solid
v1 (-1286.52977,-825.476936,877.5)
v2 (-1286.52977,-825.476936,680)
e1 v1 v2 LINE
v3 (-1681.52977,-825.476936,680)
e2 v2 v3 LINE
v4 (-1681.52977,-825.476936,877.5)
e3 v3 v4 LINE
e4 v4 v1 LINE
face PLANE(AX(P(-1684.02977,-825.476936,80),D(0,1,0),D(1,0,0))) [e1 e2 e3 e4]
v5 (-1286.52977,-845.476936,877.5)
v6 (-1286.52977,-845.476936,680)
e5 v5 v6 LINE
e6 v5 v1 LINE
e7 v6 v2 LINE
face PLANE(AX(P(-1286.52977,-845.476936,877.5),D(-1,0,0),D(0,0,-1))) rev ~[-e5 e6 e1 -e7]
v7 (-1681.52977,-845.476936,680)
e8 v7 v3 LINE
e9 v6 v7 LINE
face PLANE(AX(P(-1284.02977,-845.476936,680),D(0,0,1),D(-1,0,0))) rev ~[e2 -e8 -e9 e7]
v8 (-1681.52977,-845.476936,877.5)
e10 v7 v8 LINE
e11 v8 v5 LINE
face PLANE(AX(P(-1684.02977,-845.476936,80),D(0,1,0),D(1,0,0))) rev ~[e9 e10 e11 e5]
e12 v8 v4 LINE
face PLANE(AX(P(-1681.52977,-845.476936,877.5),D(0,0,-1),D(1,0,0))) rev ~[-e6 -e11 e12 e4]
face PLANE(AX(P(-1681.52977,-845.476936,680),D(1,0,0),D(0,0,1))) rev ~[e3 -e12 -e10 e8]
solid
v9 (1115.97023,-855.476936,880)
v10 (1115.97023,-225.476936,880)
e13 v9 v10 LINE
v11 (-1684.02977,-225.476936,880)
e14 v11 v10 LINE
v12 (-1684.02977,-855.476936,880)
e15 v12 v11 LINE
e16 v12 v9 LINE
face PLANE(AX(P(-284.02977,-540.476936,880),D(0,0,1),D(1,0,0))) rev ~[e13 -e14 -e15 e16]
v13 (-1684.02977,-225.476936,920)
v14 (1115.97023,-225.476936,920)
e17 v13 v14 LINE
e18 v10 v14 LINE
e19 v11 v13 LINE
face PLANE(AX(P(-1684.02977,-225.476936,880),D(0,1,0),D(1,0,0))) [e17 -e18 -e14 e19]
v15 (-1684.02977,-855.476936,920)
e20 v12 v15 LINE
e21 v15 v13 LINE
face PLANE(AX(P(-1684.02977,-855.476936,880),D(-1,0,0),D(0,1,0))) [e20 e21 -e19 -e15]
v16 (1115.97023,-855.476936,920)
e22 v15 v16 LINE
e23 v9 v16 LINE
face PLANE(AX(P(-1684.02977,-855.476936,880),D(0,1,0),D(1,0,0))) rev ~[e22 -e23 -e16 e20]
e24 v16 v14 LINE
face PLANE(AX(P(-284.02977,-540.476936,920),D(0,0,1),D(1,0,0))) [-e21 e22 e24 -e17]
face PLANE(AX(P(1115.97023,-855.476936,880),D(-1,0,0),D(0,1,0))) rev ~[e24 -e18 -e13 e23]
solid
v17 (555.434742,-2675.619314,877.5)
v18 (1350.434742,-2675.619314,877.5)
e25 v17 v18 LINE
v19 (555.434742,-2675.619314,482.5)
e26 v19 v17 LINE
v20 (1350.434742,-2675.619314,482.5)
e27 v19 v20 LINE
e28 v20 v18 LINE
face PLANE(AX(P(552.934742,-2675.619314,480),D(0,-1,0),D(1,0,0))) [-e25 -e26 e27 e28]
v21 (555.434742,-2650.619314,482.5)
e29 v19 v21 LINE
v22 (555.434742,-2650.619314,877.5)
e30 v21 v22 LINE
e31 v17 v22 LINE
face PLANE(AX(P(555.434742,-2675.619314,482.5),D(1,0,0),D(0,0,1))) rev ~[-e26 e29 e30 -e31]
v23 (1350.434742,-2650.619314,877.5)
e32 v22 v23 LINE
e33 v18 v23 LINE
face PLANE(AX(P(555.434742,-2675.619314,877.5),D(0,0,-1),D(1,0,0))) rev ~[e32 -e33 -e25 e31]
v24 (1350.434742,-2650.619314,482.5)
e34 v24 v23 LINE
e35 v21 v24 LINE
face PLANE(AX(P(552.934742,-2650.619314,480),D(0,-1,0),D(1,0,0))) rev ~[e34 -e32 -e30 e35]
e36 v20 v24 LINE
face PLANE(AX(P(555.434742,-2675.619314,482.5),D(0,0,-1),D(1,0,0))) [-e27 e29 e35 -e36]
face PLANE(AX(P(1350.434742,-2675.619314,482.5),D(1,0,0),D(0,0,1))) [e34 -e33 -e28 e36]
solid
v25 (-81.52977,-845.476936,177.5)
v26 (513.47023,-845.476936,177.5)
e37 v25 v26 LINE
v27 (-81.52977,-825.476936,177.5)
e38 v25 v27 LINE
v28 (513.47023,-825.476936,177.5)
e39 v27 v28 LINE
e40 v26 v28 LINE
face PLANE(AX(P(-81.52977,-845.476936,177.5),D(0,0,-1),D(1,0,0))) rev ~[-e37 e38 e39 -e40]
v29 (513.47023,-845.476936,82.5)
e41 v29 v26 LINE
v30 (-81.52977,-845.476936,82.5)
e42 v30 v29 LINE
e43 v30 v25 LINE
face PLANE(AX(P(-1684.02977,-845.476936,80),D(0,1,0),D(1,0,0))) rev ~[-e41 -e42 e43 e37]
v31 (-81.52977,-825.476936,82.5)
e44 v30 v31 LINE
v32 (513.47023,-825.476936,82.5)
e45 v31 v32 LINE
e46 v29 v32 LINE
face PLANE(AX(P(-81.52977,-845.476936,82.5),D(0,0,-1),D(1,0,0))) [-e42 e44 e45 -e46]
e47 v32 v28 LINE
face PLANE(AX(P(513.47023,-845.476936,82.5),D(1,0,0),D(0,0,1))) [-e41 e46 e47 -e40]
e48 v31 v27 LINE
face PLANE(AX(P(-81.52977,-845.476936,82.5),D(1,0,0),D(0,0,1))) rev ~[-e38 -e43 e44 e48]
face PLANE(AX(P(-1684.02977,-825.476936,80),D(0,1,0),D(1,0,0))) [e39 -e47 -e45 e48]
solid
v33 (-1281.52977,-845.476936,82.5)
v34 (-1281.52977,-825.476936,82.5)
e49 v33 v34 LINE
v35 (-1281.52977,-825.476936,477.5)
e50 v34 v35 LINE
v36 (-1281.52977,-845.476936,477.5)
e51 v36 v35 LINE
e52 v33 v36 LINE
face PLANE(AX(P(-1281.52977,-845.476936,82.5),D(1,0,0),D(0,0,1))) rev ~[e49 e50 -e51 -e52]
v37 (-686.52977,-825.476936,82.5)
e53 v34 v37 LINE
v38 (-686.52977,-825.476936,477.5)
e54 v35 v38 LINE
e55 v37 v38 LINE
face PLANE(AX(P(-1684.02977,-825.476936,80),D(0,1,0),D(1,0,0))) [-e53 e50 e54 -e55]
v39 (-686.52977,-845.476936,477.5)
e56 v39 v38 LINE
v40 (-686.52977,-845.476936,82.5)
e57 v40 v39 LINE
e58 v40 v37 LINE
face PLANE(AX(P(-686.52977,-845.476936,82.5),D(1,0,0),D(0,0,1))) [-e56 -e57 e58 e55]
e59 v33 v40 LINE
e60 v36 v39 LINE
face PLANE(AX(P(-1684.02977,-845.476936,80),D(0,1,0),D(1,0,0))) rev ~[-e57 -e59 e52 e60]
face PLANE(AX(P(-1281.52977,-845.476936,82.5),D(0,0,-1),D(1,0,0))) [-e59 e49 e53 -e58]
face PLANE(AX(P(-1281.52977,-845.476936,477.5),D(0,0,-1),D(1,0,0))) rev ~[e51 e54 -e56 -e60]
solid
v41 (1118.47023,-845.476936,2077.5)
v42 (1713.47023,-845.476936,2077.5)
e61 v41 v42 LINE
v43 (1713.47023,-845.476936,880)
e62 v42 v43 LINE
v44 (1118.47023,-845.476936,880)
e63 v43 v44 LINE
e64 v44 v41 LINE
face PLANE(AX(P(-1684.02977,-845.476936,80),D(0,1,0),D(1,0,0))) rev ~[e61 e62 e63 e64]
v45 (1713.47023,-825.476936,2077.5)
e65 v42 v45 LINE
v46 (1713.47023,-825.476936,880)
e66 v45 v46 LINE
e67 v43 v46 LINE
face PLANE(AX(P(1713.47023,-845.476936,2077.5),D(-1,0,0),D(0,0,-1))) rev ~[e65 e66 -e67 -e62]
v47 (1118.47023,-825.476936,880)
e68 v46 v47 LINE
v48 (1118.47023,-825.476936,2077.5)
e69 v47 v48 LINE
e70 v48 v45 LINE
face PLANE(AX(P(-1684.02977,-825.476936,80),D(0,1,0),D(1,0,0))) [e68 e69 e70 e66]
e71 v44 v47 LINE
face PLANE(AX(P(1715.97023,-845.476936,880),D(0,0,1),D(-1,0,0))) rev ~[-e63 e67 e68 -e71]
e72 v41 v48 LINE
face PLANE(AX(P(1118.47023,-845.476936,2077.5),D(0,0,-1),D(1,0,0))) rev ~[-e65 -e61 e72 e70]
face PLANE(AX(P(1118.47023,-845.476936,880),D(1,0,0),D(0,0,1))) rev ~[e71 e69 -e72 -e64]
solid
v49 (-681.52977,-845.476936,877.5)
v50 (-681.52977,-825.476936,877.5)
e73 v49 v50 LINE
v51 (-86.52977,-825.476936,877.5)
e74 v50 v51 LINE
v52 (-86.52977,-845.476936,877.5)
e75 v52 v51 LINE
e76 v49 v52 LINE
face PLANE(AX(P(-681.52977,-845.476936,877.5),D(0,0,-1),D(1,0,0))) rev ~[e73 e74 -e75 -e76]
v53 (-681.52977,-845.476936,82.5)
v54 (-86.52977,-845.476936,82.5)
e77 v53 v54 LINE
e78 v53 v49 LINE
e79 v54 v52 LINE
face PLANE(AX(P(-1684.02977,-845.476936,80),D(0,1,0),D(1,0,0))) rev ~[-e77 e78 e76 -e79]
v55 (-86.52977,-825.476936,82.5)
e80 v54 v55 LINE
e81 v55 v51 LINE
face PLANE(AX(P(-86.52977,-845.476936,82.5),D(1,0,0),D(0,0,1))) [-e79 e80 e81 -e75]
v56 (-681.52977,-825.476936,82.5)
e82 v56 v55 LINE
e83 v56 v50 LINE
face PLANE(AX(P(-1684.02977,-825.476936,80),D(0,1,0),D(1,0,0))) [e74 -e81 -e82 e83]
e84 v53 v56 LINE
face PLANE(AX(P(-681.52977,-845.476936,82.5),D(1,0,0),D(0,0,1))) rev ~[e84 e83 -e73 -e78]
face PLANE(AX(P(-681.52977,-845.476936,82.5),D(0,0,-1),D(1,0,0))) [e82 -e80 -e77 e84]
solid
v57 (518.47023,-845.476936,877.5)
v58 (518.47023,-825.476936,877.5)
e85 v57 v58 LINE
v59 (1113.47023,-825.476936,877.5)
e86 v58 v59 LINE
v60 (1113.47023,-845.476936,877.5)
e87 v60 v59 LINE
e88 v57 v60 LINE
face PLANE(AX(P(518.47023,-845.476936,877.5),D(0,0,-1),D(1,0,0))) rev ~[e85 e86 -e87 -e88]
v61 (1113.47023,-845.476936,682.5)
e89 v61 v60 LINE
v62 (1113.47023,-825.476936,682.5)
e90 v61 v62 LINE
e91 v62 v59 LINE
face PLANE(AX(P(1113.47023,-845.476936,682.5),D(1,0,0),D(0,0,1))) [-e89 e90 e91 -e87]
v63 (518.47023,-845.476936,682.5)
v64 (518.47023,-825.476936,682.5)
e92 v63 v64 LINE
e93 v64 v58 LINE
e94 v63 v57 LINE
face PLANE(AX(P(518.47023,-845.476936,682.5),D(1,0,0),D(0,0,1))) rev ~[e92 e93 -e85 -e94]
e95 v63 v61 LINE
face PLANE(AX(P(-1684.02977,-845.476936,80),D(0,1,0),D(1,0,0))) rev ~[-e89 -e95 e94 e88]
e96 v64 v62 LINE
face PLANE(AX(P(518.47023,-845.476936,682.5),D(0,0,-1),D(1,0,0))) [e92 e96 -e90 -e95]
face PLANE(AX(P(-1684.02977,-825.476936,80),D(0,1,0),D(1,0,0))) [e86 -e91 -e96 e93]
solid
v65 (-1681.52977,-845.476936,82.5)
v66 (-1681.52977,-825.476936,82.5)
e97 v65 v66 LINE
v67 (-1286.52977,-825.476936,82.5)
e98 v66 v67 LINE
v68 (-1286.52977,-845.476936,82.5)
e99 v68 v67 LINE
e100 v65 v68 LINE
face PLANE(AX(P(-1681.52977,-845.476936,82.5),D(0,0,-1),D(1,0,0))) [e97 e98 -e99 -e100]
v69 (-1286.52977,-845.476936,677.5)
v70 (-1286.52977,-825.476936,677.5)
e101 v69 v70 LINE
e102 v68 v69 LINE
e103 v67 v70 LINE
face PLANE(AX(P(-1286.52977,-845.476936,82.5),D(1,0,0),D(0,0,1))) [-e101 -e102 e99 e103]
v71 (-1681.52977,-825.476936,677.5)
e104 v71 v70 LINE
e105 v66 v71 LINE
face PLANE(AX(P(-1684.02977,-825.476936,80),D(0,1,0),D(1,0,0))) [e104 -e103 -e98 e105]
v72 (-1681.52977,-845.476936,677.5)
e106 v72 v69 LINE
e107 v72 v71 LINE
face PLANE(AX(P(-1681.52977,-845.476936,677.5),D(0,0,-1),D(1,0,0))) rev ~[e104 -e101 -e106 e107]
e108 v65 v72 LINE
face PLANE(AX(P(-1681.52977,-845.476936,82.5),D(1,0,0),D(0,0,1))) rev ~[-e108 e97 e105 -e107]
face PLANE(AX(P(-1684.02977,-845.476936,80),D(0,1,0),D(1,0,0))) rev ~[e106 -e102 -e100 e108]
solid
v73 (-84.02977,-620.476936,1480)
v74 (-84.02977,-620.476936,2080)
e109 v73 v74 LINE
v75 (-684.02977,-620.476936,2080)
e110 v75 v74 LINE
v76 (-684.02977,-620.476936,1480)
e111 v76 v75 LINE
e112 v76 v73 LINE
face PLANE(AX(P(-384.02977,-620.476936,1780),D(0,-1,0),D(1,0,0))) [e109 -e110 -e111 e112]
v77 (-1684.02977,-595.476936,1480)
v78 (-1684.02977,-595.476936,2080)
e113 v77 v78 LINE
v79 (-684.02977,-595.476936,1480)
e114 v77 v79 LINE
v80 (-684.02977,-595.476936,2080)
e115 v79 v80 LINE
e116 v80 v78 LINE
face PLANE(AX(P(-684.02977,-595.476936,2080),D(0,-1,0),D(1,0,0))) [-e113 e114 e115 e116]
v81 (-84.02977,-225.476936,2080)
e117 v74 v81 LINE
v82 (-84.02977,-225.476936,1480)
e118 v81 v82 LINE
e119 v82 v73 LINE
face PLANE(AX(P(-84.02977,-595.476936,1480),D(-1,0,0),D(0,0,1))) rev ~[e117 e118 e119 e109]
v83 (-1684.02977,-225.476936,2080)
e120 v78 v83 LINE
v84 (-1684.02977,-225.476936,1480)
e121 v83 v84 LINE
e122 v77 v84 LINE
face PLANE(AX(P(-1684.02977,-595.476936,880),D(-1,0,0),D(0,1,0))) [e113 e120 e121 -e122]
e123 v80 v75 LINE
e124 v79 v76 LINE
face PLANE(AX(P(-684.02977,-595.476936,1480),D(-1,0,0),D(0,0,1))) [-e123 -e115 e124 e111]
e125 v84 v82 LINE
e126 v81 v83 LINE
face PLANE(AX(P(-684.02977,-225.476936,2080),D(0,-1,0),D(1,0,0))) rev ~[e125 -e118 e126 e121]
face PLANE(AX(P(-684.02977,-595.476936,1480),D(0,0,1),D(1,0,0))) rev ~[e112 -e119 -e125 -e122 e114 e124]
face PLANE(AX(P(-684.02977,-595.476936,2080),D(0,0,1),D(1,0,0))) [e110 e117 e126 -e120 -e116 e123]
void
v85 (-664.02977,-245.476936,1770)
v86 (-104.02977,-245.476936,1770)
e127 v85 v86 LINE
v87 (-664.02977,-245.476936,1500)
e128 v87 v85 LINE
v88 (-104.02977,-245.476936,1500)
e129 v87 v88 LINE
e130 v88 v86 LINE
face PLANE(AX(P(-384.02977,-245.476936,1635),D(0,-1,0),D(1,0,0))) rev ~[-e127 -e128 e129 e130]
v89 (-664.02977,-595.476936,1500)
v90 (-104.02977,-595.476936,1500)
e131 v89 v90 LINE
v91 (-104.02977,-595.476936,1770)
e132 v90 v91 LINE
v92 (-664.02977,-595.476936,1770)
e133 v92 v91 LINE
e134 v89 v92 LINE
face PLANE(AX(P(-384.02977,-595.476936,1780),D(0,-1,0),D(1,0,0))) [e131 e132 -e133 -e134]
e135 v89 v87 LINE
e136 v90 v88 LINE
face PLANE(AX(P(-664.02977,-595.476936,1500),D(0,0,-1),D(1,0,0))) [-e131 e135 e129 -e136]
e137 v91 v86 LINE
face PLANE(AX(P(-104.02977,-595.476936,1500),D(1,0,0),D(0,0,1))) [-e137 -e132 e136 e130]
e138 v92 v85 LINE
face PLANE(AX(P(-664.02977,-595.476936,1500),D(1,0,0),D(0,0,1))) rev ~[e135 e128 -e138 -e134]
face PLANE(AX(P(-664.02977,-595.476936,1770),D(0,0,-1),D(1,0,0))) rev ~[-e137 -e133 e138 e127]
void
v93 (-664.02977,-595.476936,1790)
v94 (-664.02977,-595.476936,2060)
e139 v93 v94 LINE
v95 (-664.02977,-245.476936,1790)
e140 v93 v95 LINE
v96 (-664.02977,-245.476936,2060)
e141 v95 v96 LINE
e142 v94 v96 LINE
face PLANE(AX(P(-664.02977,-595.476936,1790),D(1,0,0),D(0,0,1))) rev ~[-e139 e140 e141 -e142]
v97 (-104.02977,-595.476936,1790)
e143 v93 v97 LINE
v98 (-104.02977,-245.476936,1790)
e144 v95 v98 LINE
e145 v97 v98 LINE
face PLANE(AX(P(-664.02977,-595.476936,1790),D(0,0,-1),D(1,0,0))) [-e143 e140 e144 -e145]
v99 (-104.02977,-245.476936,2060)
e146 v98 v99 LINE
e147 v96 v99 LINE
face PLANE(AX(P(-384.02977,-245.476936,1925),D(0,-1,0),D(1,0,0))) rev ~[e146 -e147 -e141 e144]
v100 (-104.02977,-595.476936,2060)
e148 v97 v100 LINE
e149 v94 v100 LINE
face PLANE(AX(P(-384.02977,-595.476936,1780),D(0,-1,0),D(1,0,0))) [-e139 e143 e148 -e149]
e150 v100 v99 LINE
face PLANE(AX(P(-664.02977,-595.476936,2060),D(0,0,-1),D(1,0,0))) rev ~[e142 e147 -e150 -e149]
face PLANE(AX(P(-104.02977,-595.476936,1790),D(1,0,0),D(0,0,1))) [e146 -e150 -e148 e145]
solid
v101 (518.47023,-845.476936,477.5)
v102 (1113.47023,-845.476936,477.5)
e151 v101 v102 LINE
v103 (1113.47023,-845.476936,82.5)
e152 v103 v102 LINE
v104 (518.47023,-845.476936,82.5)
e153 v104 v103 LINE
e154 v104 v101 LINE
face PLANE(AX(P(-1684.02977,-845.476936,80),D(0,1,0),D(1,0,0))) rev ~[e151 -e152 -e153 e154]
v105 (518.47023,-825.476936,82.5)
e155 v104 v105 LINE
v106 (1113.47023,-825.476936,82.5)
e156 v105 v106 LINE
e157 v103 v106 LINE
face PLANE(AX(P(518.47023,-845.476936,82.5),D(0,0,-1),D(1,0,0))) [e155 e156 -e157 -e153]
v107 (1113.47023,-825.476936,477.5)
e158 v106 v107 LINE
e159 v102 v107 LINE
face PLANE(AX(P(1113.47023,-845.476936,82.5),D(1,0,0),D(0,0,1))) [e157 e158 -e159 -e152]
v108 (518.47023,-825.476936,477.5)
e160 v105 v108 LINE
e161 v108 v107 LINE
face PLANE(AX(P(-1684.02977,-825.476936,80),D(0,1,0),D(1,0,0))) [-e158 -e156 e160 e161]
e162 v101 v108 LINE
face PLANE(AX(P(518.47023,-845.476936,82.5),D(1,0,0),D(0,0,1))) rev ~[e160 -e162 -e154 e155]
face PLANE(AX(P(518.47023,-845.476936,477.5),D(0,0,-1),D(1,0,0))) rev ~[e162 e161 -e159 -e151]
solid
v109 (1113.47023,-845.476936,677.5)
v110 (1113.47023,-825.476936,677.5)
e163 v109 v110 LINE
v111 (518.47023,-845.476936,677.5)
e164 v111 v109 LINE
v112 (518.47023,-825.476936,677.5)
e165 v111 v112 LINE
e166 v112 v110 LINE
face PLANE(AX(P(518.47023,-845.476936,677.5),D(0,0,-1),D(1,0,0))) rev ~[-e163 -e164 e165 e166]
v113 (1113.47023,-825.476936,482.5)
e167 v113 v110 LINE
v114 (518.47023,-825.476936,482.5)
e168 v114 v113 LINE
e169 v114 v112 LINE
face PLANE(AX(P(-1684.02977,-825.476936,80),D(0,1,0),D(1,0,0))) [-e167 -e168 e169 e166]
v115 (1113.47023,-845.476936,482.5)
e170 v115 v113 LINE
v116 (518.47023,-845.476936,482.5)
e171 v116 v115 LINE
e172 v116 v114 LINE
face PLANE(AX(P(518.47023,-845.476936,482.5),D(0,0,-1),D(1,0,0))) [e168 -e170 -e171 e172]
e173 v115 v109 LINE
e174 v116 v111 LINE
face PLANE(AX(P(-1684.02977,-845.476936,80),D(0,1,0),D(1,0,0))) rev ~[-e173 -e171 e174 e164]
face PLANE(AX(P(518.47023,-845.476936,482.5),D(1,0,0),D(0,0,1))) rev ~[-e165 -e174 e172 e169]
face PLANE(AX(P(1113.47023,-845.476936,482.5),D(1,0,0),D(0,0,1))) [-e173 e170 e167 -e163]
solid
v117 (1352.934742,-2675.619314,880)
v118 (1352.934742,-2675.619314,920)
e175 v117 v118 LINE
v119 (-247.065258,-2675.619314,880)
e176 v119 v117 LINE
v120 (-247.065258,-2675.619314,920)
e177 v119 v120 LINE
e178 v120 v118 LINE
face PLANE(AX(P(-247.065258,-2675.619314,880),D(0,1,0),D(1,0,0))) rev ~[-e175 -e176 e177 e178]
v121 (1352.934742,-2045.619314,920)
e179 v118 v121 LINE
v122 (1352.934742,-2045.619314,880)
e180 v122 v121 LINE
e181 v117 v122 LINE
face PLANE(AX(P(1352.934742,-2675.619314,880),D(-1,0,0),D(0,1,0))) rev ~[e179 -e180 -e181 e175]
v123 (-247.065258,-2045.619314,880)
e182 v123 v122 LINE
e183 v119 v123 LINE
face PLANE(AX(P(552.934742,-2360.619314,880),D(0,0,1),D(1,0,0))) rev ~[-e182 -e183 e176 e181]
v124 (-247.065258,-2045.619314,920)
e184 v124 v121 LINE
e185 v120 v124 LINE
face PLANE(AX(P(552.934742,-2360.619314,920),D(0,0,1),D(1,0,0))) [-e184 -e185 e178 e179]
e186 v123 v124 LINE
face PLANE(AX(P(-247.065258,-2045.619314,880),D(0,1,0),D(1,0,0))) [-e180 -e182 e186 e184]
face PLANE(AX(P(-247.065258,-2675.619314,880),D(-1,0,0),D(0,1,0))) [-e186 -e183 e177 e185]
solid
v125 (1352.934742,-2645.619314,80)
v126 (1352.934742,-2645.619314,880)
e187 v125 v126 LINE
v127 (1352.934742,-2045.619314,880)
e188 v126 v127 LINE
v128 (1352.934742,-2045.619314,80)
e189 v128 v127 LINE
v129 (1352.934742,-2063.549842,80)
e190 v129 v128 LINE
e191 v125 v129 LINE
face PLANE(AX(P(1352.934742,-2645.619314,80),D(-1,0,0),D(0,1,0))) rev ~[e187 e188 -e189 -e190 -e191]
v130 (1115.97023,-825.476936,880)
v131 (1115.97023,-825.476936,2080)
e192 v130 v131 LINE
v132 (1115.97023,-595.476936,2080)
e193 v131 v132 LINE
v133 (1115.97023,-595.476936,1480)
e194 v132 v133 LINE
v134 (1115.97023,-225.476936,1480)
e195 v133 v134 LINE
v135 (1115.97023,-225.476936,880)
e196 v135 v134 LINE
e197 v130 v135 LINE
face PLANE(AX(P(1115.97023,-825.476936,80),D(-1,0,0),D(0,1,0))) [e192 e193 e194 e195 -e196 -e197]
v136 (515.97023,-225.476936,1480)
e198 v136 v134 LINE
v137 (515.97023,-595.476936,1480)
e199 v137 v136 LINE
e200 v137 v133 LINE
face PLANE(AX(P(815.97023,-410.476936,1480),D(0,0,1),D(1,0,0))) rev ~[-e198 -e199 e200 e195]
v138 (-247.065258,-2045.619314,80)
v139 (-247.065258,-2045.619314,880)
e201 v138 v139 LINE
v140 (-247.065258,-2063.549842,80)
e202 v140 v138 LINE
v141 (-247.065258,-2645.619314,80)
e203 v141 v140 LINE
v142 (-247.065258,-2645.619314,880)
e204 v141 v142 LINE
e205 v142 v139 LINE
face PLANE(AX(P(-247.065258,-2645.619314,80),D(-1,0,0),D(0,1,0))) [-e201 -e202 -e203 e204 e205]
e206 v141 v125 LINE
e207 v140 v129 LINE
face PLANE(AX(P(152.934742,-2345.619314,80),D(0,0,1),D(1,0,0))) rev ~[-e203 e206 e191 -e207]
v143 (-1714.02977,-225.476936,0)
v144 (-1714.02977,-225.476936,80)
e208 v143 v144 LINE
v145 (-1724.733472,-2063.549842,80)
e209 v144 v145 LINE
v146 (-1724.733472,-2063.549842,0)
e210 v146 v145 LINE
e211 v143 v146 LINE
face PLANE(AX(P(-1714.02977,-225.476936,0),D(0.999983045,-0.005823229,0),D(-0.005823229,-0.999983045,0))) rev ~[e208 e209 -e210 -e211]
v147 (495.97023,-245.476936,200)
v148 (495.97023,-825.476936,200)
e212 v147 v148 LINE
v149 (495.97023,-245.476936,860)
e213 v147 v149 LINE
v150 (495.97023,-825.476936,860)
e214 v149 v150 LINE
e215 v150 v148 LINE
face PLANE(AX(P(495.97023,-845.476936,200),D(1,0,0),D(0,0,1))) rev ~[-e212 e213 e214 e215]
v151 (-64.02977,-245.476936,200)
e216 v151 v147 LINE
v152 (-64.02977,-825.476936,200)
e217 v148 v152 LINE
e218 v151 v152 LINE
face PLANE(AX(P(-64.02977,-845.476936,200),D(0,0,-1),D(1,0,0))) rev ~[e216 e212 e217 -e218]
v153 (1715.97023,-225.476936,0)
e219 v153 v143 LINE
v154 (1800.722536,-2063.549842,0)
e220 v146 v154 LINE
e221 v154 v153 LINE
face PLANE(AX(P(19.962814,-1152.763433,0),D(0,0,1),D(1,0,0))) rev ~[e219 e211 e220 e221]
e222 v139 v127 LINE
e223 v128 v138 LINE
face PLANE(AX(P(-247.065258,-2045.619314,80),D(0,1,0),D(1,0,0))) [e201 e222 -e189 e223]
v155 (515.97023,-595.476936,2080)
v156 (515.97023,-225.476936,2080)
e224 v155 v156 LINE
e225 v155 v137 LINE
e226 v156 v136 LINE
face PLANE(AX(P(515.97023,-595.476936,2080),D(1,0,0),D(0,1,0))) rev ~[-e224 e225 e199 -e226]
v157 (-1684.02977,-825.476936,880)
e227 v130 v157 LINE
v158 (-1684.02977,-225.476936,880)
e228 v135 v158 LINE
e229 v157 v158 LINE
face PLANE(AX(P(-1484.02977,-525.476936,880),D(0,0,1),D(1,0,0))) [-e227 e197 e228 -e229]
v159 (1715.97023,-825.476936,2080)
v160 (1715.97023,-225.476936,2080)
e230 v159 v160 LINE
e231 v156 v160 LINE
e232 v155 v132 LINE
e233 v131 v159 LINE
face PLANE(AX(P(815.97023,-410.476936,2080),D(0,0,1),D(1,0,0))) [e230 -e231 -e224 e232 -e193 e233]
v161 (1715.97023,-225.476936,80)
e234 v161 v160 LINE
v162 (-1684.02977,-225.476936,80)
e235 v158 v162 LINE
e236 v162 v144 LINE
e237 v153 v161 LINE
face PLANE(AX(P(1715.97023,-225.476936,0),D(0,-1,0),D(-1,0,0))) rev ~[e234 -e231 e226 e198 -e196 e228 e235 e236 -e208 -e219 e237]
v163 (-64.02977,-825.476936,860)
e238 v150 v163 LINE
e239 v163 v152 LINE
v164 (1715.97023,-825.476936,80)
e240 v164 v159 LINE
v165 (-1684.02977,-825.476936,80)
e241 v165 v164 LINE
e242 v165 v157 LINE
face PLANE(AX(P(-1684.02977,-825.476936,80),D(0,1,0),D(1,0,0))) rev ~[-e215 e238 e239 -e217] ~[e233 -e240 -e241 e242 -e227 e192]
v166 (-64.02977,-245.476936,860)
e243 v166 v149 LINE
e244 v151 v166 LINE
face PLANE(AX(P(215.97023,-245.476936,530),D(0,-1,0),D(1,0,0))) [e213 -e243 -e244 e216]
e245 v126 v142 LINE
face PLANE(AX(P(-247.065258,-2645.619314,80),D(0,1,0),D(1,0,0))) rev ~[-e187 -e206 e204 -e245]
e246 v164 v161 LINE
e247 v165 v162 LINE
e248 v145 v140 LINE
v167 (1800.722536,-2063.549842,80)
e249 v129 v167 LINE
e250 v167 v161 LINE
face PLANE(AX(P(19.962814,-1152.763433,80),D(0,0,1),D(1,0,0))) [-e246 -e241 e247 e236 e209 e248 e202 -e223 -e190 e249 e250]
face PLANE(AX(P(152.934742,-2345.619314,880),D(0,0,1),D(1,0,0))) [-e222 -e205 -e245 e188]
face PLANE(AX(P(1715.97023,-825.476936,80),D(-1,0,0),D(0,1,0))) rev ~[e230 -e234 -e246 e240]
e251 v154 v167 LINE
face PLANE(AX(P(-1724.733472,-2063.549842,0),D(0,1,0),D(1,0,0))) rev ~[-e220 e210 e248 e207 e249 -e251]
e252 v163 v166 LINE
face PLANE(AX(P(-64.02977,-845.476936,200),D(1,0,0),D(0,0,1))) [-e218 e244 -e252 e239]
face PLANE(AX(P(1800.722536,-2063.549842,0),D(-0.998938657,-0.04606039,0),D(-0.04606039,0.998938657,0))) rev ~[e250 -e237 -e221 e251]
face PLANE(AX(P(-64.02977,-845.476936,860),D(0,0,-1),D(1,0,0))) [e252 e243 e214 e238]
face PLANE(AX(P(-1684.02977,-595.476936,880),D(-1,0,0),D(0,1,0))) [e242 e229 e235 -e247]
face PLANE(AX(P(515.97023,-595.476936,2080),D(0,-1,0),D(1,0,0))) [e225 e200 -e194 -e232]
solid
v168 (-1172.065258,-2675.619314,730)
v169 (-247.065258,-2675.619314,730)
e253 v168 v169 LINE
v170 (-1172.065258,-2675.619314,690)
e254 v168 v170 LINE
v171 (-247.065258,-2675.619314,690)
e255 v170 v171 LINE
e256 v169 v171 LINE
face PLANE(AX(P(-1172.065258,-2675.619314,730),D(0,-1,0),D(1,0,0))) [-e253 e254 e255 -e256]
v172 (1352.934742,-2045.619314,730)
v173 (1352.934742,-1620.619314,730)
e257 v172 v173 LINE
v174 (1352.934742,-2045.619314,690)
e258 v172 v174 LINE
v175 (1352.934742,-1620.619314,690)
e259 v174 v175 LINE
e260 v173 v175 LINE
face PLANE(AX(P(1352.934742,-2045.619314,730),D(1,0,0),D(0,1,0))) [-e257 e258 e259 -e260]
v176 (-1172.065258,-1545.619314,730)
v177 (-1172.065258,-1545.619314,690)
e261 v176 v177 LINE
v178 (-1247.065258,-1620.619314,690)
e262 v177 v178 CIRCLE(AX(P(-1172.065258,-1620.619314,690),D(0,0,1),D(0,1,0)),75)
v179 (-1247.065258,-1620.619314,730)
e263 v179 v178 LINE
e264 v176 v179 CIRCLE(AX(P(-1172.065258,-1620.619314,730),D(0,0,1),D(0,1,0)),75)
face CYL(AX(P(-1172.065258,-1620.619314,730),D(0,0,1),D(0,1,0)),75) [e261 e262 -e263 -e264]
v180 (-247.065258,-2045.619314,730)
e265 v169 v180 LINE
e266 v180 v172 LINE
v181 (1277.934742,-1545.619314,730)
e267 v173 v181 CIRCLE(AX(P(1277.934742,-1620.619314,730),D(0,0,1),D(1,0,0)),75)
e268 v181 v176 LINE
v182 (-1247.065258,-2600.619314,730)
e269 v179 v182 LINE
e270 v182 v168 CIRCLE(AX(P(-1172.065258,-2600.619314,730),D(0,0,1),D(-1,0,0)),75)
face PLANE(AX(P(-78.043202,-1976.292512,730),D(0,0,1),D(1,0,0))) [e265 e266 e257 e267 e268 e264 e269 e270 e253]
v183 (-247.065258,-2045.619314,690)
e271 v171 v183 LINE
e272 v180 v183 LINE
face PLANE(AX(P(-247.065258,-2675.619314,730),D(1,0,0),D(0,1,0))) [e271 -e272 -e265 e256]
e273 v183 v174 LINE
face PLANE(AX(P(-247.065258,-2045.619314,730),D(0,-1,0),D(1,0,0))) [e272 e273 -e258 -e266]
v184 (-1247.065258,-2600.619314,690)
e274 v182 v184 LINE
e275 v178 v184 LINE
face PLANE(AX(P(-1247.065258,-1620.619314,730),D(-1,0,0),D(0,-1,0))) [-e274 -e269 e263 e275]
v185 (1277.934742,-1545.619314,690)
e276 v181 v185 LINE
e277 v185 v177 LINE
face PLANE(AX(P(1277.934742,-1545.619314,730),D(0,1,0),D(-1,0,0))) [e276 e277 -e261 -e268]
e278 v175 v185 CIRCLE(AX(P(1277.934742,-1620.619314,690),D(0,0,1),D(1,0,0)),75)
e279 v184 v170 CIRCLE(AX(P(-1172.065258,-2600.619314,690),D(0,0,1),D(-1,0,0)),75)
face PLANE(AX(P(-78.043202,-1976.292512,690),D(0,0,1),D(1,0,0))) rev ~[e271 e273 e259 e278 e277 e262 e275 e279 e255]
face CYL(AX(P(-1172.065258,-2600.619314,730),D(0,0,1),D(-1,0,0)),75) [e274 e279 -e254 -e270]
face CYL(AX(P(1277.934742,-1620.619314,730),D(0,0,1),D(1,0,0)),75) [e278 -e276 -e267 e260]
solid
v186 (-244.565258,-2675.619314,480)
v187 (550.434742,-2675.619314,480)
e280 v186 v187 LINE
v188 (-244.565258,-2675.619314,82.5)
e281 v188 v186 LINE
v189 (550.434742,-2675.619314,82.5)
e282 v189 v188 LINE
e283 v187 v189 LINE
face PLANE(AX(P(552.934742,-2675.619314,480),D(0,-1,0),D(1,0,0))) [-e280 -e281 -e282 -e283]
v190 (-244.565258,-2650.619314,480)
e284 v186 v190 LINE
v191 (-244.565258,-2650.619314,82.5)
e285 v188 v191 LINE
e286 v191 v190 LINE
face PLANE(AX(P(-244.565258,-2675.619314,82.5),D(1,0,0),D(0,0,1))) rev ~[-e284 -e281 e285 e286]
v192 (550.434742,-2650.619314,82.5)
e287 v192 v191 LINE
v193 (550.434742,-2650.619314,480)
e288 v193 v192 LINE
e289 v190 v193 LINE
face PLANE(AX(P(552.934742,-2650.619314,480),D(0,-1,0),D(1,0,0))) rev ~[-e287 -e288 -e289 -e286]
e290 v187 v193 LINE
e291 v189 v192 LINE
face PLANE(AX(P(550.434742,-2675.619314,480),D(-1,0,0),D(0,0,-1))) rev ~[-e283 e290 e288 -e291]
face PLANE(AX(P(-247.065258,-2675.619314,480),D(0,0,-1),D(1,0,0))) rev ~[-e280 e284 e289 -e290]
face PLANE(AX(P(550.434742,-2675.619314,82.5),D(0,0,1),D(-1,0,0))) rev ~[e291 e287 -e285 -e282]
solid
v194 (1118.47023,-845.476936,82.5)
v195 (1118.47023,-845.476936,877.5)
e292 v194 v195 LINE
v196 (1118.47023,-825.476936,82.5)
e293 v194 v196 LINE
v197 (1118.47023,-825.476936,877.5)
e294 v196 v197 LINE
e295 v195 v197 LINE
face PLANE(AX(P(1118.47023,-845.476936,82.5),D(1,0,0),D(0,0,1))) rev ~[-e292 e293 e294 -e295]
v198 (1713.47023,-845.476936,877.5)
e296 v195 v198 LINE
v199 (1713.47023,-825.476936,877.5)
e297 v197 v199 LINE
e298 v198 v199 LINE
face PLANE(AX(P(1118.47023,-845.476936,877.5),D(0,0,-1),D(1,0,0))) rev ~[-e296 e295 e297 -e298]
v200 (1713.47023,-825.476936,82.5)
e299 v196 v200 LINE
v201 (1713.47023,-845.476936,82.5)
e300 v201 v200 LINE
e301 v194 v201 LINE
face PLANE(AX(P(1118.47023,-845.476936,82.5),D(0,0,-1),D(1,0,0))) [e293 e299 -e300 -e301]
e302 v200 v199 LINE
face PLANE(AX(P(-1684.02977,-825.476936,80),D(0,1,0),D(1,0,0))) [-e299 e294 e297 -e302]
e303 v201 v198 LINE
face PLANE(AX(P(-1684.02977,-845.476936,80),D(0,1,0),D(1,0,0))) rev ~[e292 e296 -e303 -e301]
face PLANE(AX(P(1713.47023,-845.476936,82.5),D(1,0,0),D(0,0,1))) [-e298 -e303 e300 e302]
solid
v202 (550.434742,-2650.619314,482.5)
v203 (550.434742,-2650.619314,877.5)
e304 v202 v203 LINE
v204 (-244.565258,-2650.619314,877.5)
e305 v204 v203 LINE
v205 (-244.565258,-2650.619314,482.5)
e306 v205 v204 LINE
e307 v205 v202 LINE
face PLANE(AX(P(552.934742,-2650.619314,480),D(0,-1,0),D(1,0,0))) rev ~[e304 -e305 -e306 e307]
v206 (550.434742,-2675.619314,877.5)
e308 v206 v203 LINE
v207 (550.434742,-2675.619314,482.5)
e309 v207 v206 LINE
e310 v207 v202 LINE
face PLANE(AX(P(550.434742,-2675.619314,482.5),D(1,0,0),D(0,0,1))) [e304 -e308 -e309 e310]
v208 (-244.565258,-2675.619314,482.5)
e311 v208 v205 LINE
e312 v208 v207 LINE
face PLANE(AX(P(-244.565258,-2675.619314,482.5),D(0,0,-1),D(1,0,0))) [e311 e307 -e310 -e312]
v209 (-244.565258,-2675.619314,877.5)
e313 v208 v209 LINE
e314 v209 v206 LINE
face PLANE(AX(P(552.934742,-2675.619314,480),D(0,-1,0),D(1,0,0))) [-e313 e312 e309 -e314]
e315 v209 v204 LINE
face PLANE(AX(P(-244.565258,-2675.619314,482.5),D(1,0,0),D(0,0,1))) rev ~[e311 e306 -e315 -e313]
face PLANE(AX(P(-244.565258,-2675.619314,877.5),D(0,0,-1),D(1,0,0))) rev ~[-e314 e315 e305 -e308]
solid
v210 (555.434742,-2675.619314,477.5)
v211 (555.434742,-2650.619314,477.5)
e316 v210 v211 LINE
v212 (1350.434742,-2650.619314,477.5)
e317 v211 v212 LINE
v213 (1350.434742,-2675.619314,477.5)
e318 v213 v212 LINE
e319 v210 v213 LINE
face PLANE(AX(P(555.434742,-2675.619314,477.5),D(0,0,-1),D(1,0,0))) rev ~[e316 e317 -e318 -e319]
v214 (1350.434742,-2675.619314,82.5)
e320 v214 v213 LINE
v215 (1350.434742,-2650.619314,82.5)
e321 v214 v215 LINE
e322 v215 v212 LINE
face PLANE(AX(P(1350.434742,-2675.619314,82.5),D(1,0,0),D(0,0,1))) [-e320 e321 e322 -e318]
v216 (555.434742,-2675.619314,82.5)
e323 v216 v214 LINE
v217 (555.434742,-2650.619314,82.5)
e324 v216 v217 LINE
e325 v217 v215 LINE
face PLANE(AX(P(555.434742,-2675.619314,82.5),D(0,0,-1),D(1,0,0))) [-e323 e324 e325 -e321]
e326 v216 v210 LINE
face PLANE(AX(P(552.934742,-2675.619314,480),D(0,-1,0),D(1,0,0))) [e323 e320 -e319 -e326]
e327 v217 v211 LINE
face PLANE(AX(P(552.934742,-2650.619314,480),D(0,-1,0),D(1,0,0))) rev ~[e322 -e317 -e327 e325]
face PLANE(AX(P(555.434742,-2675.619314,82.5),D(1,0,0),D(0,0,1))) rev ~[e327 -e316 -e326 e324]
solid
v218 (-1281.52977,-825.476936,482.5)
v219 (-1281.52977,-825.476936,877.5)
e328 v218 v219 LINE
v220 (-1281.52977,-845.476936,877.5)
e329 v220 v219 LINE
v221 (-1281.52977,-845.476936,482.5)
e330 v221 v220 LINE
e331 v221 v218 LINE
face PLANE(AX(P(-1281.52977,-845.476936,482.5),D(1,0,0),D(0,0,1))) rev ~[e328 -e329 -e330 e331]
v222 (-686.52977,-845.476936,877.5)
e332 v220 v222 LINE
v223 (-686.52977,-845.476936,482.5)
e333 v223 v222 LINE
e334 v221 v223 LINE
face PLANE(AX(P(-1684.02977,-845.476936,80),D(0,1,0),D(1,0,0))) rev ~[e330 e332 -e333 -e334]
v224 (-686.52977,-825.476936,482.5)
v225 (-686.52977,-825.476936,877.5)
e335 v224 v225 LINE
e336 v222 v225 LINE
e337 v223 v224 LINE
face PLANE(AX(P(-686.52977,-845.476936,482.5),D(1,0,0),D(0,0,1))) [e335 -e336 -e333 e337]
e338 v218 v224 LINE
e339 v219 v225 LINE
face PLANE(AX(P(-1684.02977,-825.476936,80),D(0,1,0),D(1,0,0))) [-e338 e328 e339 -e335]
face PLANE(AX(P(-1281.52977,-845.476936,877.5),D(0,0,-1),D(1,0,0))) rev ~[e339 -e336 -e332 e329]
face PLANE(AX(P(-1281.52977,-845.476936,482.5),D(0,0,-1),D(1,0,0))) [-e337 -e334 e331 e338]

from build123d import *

# Parameters (mm, degrees)
F7_W      = 600
F7_H      = 600
F13_DEPTH = 2000
F8_W      = 600
F8_H      = 600
F14_DEPTH = 800
F9_W      = 600
F9_H      = 600
F15_DEPTH = 800
F10_W     = 600
F10_H     = 600
F16_DEPTH = 800
F11_W     = 600
F11_H     = 600
F17_DEPTH = 800
F12_W     = 400
F12_H     = 600
F18_DEPTH = 800
F23_W     = 400
F23_H     = 370
F24_DEPTH = 1200
F25_W     = 400
F25_H     = 600
F26_DEPTH = 370
F22_W     = 600
F22_H     = 370
F27_DEPTH = 600
F21_W     = 600
F21_H     = 370
F28_DEPTH = 600
F20_W     = 600
F20_H     = 370
F29_DEPTH = 600
F30_DEPTH = 20
F32_DEPTH = 20
F31_W     = 595
F31_H     = 795
F33_DEPTH = 20
F35_DEPTH = 20
F34_W     = 395
F34_H     = 595
F36_DEPTH = 20
F37_W     = 600
F37_H     = 400
F37_W_2   = 595
F37_H_2   = 395
F38_DEPTH = 20
F39_DEPTH = 20
F40_W     = 600
F40_H     = 800
F40_W_2   = 595
F40_H_2   = 795
F41_DEPTH = 20
F42_W     = 600
F42_H     = 400
F42_W_2   = 595
F42_H_2   = 395
F43_DEPTH = 20
F44_W     = 600
F44_H     = 200
F44_W_2   = 595
F44_H_2   = 195
F45_DEPTH = 20
F46_W     = 600
F46_H     = 200
F46_W_2   = 595
F46_H_2   = 195
F47_DEPTH = 20
F48_W     = 600
F48_H     = 100
F48_W_2   = 595
F48_H_2   = 95
F49_DEPTH = 20
F50_W     = 600
F50_H     = 700
F50_W_2   = 560
F50_H_2   = 660
F51_DEPTH = 20
F52_DEPTH = 25
F54_W     = 560
F54_H     = 660
F55_DEPTH = 580
F57_W     = 560
F57_H     = 270
F58_DEPTH = 350
F59_DEPTH = 350
F60_W     = 600
F60_H     = 600
F61_DEPTH = 25
F64_DEPTH = 80
F62_W     = 800
F62_H     = 600
F65_DEPTH = 800
F63_W     = 800
F63_H     = 600
F66_DEPTH = 800
F68_W     = 1600
F68_H     = 800
F69_DEPTH = 25
F70_DEPTH = 20
F71_W     = 800
F71_H     = 400
F71_W_2   = 795
F71_H_2   = 395
F72_DEPTH = 25
F74_DEPTH = 25
F75_W     = 800
F75_H     = 400
F75_W_2   = 795
F75_H_2   = 395
F76_DEPTH = 25
F77_W     = 800
F77_H     = 400
F77_W_2   = 795
F77_H_2   = 395
F78_DEPTH = 25
F80_W     = 2800
F80_H     = 630
F82_DEPTH = 40
F81_W     = 1600
F81_H     = 630
F83_DEPTH = 40
F86_DEPTH = 40


with BuildPart() as f13:
    # F7 (on offset) → F13 (new body)
    with BuildSketch(Plane.XY.offset(80)):
        with Locations((1415.9702295065, -525.4769355059)):
            Rectangle(F7_W, F7_H)
    extrude(amount=F13_DEPTH)

    # F8 (on offset) → F14 (join)
    with BuildSketch(Plane.XY.offset(80)):
        with Locations((815.9702295065, -525.4769355059)):
            Rectangle(F8_W, F8_H)
    extrude(amount=F14_DEPTH)

    # F9 (on offset) → F15 (join)
    with BuildSketch(Plane.XY.offset(80)):
        with Locations((215.9702295065, -525.4769355059)):
            Rectangle(F9_W, F9_H)
    extrude(amount=F15_DEPTH)

    # F10 (on offset) → F16 (join)
    with BuildSketch(Plane.XY.offset(80)):
        with Locations((-384.0297704935, -525.4769355059)):
            Rectangle(F10_W, F10_H)
    extrude(amount=F16_DEPTH)

    # F11 (on offset) → F17 (join)
    with BuildSketch(Plane.XY.offset(80)):
        with Locations((-984.0297704935, -525.4769355059)):
            Rectangle(F11_W, F11_H)
    extrude(amount=F17_DEPTH)

    # F12 (on offset) → F18 (join)
    with BuildSketch(Plane.XY.offset(80)):
        with Locations((-1484.0297704935, -525.4769355059)):
            Rectangle(F12_W, F12_H)
    extrude(amount=F18_DEPTH)

    # F23 (on face) → F24 (join)
    with BuildSketch(Plane.XY.offset(880)):
        with Locations((-1484.0297704935, -410.4769355059)):
            Rectangle(F23_W, F23_H)
    extrude(amount=F24_DEPTH)

    # F25 (on face) → F26 (cut)
    with BuildSketch(Plane.XZ.offset(595.4769355059)):
        with Locations((-1484.0297704935, 1180)):
            Rectangle(F25_W, F25_H)
    extrude(amount=-F26_DEPTH, mode=Mode.SUBTRACT)

    # F22 (on face) → F27 (join)
    with BuildSketch(Plane.XY.offset(2080)):
        with Locations((-984.0297704935, -410.4769355059)):
            Rectangle(F22_W, F22_H)
    extrude(amount=-F27_DEPTH)

    # F21 (on face) → F28 (join)
    with BuildSketch(Plane.XY.offset(2080)):
        with Locations((-384.0297704935, -410.4769355059)):
            Rectangle(F21_W, F21_H)
    extrude(amount=-F28_DEPTH)

    # F20 (on face) → F29 (join)
    with BuildSketch(Plane.XY.offset(2080)):
        with Locations((815.9702295065, -410.4769355059)):
            Rectangle(F20_W, F20_H)
    extrude(amount=-F29_DEPTH)


with BuildPart() as f30:
    # F30 (new): a face of the model
    f30_faces = [f13.part.faces().sort_by_distance(p)[0] for p in [
        (308.9934853204, -825.4769355059, 689.3023255814),
    ]]
    extrude(f30_faces, amount=F30_DEPTH)

    # F31 (on face) → F32 (cut)
    with BuildSketch(Plane.XZ.offset(845.4769355059)):
        Polygon((1715.9702295065, 880), (1715.9702295065, 2080), (1115.9702295065, 2080), (1115.9702295065, 880), (1118.4702295065, 880), (1118.4702295065, 2077.5), (1713.4702295065, 2077.5), (1713.4702295065, 880), align=None)
    extrude(amount=-F32_DEPTH, mode=Mode.SUBTRACT)

    # F31 (on face) → F33 (cut)
    with BuildSketch(Plane.XZ.offset(845.4769355059)):
        Polygon((1715.9702295065, 80), (1715.9702295065, 880), (1713.4702295065, 880), (1118.4702295065, 880), (1115.9702295065, 880), (1115.9702295065, 80), align=None)
        with Locations((1415.9702295065, 480)):
            Rectangle(F31_W, F31_H, mode=Mode.SUBTRACT)
    extrude(amount=-F33_DEPTH, mode=Mode.SUBTRACT)

    # F34 (on face) → F35 (cut)
    with BuildSketch(Plane.XZ.offset(845.4769355059)):
        Polygon((-1284.0297704935, 880), (-1684.0297704935, 880), (-1684.0297704935, 680), (-1681.5297704935, 680), (-1681.5297704935, 877.5), (-1286.5297704935, 877.5), (-1286.5297704935, 680), (-1284.0297704935, 680), align=None)
    extrude(amount=-F35_DEPTH, mode=Mode.SUBTRACT)

    # F34 (on face) → F36 (cut)
    with BuildSketch(Plane.XZ.offset(845.4769355059)):
        Polygon((-1681.5297704935, 680), (-1684.0297704935, 680), (-1684.0297704935, 80), (-1284.0297704935, 80), (-1284.0297704935, 680), (-1286.5297704935, 680), align=None)
        with Locations((-1484.0297704935, 380)):
            Rectangle(F34_W, F34_H, mode=Mode.SUBTRACT)
    extrude(amount=-F36_DEPTH, mode=Mode.SUBTRACT)

    # F37 (on face) → F38 (cut)
    with BuildSketch(Plane.XZ.offset(845.4769355059)):
        with Locations((-984.0297704935, 680)):
            Rectangle(F37_W, F37_H)
        with Locations((-984.0297704935, 680)):
            Rectangle(F37_W_2, F37_H_2, mode=Mode.SUBTRACT)
    extrude(amount=-F38_DEPTH, mode=Mode.SUBTRACT)

    # F37 (on face) → F39 (cut)
    with BuildSketch(Plane.XZ.offset(845.4769355059)):
        with Locations((-984.0297704935, 280)):
            Rectangle(F37_W, F37_H)
        with Locations((-984.0297704935, 280)):
            Rectangle(F37_W_2, F37_H_2, mode=Mode.SUBTRACT)
    extrude(amount=-F39_DEPTH, mode=Mode.SUBTRACT)

    # F40 (on face) → F41 (cut)
    with BuildSketch(Plane.XZ.offset(845.4769355059)):
        with Locations((-384.0297704935, 480)):
            Rectangle(F40_W, F40_H)
        with Locations((-384.0297704935, 480)):
            Rectangle(F40_W_2, F40_H_2, mode=Mode.SUBTRACT)
    extrude(amount=-F41_DEPTH, mode=Mode.SUBTRACT)

    # F42 (on face) → F43 (cut)
    with BuildSketch(Plane.XZ.offset(845.4769355059)):
        with Locations((815.9702295065, 280)):
            Rectangle(F42_W, F42_H)
        with Locations((815.9702295065, 280)):
            Rectangle(F42_W_2, F42_H_2, mode=Mode.SUBTRACT)
    extrude(amount=-F43_DEPTH, mode=Mode.SUBTRACT)

    # F44 (on face) → F45 (cut)
    with BuildSketch(Plane.XZ.offset(845.4769355059)):
        with Locations((815.9702295065, 580)):
            Rectangle(F44_W, F44_H)
        with Locations((815.9702295065, 580)):
            Rectangle(F44_W_2, F44_H_2, mode=Mode.SUBTRACT)
    extrude(amount=-F45_DEPTH, mode=Mode.SUBTRACT)

    # F46 (on face) → F47 (cut)
    with BuildSketch(Plane.XZ.offset(845.4769355059)):
        with Locations((815.9702295065, 780)):
            Rectangle(F46_W, F46_H)
        with Locations((815.9702295065, 780)):
            Rectangle(F46_W_2, F46_H_2, mode=Mode.SUBTRACT)
    extrude(amount=-F47_DEPTH, mode=Mode.SUBTRACT)

    # F48 (on face) → F49 (cut)
    with BuildSketch(Plane.XZ.offset(845.4769355059)):
        with Locations((215.9702295065, 130)):
            Rectangle(F48_W, F48_H)
        with Locations((215.9702295065, 130)):
            Rectangle(F48_W_2, F48_H_2, mode=Mode.SUBTRACT)
    extrude(amount=-F49_DEPTH, mode=Mode.SUBTRACT)

    # F50 (on face) → F51 (cut)
    with BuildSketch(Plane.XZ.offset(845.4769355059)):
        with Locations((215.9702295065, 530)):
            Rectangle(F50_W, F50_H)
        with Locations((215.9702295065, 530)):
            Rectangle(F50_W_2, F50_H_2, mode=Mode.SUBTRACT)
    extrude(amount=-F51_DEPTH, mode=Mode.SUBTRACT)


with BuildPart() as f52_tool:
    # F50 (on face) → F52 (new body)
    with BuildSketch(Plane.XZ.offset(845.4769355059)):
        with Locations((215.9702295065, 530)):
            Rectangle(F50_W_2, F50_H_2)
    extrude(amount=-F52_DEPTH)


with BuildPart() as f13_1:
    add(f13.part)

    # F52: cut by f52_tool
    add(f52_tool.part, mode=Mode.SUBTRACT)

    # F54 (on offset) → F55 (cut)
    with BuildSketch(Plane.XZ.offset(825.4769355059)):
        with Locations((215.9702295065, 530)):
            Rectangle(F54_W, F54_H)
    extrude(amount=-F55_DEPTH, mode=Mode.SUBTRACT)

    # F57 (on face) → F58 (cut)
    with BuildSketch(Plane.XZ.offset(595.4769355059)):
        with Locations((-384.0297704935, 1925)):
            Rectangle(F57_W, F57_H)
    extrude(amount=-F58_DEPTH, mode=Mode.SUBTRACT)

    # F57 (on face) → F59 (cut)
    with BuildSketch(Plane.XZ.offset(595.4769355059)):
        with Locations((-384.0297704935, 1635)):
            Rectangle(F57_W, F57_H)
    extrude(amount=-F59_DEPTH, mode=Mode.SUBTRACT)

    # F60 (on face) → F61 (join)
    with BuildSketch(Plane.XZ.offset(595.4769355059)):
        with Locations((-384.0297704935, 1780)):
            Rectangle(F60_W, F60_H)
    extrude(amount=F61_DEPTH)

    # F0 (on Top) → F64 (join)
    with BuildSketch(Plane.XY):
        Polygon((1800.7225357622, -2063.5498418479), (1715.9702295065, -225.4769355059), (-1714.0297704935, -225.4769355059), (-1724.7334718704, -2063.5498418479), align=None)
    extrude(amount=F64_DEPTH)

    # F62 (on offset) → F65 (join)
    with BuildSketch(Plane.XY.offset(80)):
        with Locations((952.9347419739, -2345.6193135348)):
            Rectangle(F62_W, F62_H)
    extrude(amount=F65_DEPTH)

    # F63 (on offset) → F66 (join)
    with BuildSketch(Plane.XY.offset(80)):
        with Locations((152.9347419739, -2345.6193135348)):
            Rectangle(F63_W, F63_H)
    extrude(amount=F66_DEPTH)


with BuildPart() as f30_1:
    add(f30.part)

    # F52: cut by f52_tool
    add(f52_tool.part, mode=Mode.SUBTRACT)


with BuildPart() as f69:
    # F68 (on offset) → F69 (new body)
    with BuildSketch(Plane.XZ.offset(2650.6193135348)):
        with Locations((552.9347419739, 480)):
            Rectangle(F68_W, F68_H)
    extrude(amount=F69_DEPTH)

    # F68 (on offset) → F70 (join)
    with BuildSketch(Plane.XZ.offset(2650.6193135348)):
        with Locations((552.9347419739, 480)):
            Rectangle(F68_W, F68_H)
    extrude(amount=F70_DEPTH)

    # F71 (on face) → F72 (cut)
    with BuildSketch(Plane.XZ.offset(2675.6193135348)):
        with Locations((152.9347419739, 680)):
            Rectangle(F71_W, F71_H)
        with Locations((152.9347419739, 680)):
            Rectangle(F71_W_2, F71_H_2, mode=Mode.SUBTRACT)
    extrude(amount=-F72_DEPTH, mode=Mode.SUBTRACT)

    # F73 (on face) → F74 (cut)
    with BuildSketch(Plane.XZ.offset(2675.6193135348)):
        Polygon((-244.5652580261, 480), (-247.0652580261, 480), (-247.0652580261, 80), (552.9347419739, 80), (552.9347419739, 480), (550.4347419739, 480), (550.4347419739, 82.5), (-244.5652580261, 82.5), align=None)
    extrude(amount=-F74_DEPTH, mode=Mode.SUBTRACT)

    # F75 (on face) → F76 (cut)
    with BuildSketch(Plane.XZ.offset(2675.6193135348)):
        with Locations((952.9347419739, 680)):
            Rectangle(F75_W, F75_H)
        with Locations((952.9347419739, 680)):
            Rectangle(F75_W_2, F75_H_2, mode=Mode.SUBTRACT)
    extrude(amount=-F76_DEPTH, mode=Mode.SUBTRACT)

    # F77 (on face) → F78 (cut)
    with BuildSketch(Plane.XZ.offset(2675.6193135348)):
        with Locations((952.9347419739, 280)):
            Rectangle(F77_W, F77_H)
        with Locations((952.9347419739, 280)):
            Rectangle(F77_W_2, F77_H_2, mode=Mode.SUBTRACT)
    extrude(amount=-F78_DEPTH, mode=Mode.SUBTRACT)


with BuildPart() as f82:
    # F80 (on face) → F82 (new body)
    with BuildSketch(Plane.XY.offset(880)):
        with Locations((-284.0297704935, -540.4769355059)):
            Rectangle(F80_W, F80_H)
    extrude(amount=F82_DEPTH)


with BuildPart() as f83:
    # F81 (on face) → F83 (new body)
    with BuildSketch(Plane.XY.offset(880)):
        with Locations((552.9347419739, -2360.6193135348)):
            Rectangle(F81_W, F81_H)
    extrude(amount=F83_DEPTH)


with BuildPart() as f86:
    # F85 (on offset) → F86 (new body)
    with BuildSketch(Plane.XY.offset(730)):
        with BuildLine():
            Line((-247.0652580261, -2045.6193135348), (1352.9347419739, -2045.6193135348))
            Line((1352.9347419739, -2045.6193135348), (1352.9347419739, -1695.6193135348))
            Line((1352.9347419739, -1695.6193135348), (1352.9347419739, -1620.6193135348))
            ThreePointArc((1352.9347419739, -1620.6193135348), (1330.9677505629, -1567.5863049458), (1277.9347419739, -1545.6193135348))
            Line((1277.9347419739, -1545.6193135348), (1202.9347419739, -1545.6193135348))
            Line((1202.9347419739, -1545.6193135348), (-1097.0652580261, -1545.6193135348))
            Line((-1097.0652580261, -1545.6193135348), (-1172.0652580261, -1545.6193135348))
            ThreePointArc((-1172.0652580261, -1545.6193135348), (-1225.0982666151, -1567.5863049458), (-1247.0652580261, -1620.6193135348))
            Line((-1247.0652580261, -1620.6193135348), (-1247.0652580261, -1695.6193135348))
            Line((-1247.0652580261, -1695.6193135348), (-1247.0652580261, -2525.6193135348))
            Line((-1247.0652580261, -2525.6193135348), (-1247.0652580261, -2600.6193135348))
            ThreePointArc((-1247.0652580261, -2600.6193135348), (-1225.0982666151, -2653.6523221238), (-1172.0652580261, -2675.6193135348))
            Line((-1172.0652580261, -2675.6193135348), (-1097.0652580261, -2675.6193135348))
            Line((-1097.0652580261, -2675.6193135348), (-247.0652580261, -2675.6193135348))
            Line((-247.0652580261, -2675.6193135348), (-247.0652580261, -2045.6193135348))
        make_face()
    extrude(amount=-F86_DEPTH)


solid = Compound([f13_1.part, f30_1.part, f69.part, f82.part, f83.part, f86.part])
